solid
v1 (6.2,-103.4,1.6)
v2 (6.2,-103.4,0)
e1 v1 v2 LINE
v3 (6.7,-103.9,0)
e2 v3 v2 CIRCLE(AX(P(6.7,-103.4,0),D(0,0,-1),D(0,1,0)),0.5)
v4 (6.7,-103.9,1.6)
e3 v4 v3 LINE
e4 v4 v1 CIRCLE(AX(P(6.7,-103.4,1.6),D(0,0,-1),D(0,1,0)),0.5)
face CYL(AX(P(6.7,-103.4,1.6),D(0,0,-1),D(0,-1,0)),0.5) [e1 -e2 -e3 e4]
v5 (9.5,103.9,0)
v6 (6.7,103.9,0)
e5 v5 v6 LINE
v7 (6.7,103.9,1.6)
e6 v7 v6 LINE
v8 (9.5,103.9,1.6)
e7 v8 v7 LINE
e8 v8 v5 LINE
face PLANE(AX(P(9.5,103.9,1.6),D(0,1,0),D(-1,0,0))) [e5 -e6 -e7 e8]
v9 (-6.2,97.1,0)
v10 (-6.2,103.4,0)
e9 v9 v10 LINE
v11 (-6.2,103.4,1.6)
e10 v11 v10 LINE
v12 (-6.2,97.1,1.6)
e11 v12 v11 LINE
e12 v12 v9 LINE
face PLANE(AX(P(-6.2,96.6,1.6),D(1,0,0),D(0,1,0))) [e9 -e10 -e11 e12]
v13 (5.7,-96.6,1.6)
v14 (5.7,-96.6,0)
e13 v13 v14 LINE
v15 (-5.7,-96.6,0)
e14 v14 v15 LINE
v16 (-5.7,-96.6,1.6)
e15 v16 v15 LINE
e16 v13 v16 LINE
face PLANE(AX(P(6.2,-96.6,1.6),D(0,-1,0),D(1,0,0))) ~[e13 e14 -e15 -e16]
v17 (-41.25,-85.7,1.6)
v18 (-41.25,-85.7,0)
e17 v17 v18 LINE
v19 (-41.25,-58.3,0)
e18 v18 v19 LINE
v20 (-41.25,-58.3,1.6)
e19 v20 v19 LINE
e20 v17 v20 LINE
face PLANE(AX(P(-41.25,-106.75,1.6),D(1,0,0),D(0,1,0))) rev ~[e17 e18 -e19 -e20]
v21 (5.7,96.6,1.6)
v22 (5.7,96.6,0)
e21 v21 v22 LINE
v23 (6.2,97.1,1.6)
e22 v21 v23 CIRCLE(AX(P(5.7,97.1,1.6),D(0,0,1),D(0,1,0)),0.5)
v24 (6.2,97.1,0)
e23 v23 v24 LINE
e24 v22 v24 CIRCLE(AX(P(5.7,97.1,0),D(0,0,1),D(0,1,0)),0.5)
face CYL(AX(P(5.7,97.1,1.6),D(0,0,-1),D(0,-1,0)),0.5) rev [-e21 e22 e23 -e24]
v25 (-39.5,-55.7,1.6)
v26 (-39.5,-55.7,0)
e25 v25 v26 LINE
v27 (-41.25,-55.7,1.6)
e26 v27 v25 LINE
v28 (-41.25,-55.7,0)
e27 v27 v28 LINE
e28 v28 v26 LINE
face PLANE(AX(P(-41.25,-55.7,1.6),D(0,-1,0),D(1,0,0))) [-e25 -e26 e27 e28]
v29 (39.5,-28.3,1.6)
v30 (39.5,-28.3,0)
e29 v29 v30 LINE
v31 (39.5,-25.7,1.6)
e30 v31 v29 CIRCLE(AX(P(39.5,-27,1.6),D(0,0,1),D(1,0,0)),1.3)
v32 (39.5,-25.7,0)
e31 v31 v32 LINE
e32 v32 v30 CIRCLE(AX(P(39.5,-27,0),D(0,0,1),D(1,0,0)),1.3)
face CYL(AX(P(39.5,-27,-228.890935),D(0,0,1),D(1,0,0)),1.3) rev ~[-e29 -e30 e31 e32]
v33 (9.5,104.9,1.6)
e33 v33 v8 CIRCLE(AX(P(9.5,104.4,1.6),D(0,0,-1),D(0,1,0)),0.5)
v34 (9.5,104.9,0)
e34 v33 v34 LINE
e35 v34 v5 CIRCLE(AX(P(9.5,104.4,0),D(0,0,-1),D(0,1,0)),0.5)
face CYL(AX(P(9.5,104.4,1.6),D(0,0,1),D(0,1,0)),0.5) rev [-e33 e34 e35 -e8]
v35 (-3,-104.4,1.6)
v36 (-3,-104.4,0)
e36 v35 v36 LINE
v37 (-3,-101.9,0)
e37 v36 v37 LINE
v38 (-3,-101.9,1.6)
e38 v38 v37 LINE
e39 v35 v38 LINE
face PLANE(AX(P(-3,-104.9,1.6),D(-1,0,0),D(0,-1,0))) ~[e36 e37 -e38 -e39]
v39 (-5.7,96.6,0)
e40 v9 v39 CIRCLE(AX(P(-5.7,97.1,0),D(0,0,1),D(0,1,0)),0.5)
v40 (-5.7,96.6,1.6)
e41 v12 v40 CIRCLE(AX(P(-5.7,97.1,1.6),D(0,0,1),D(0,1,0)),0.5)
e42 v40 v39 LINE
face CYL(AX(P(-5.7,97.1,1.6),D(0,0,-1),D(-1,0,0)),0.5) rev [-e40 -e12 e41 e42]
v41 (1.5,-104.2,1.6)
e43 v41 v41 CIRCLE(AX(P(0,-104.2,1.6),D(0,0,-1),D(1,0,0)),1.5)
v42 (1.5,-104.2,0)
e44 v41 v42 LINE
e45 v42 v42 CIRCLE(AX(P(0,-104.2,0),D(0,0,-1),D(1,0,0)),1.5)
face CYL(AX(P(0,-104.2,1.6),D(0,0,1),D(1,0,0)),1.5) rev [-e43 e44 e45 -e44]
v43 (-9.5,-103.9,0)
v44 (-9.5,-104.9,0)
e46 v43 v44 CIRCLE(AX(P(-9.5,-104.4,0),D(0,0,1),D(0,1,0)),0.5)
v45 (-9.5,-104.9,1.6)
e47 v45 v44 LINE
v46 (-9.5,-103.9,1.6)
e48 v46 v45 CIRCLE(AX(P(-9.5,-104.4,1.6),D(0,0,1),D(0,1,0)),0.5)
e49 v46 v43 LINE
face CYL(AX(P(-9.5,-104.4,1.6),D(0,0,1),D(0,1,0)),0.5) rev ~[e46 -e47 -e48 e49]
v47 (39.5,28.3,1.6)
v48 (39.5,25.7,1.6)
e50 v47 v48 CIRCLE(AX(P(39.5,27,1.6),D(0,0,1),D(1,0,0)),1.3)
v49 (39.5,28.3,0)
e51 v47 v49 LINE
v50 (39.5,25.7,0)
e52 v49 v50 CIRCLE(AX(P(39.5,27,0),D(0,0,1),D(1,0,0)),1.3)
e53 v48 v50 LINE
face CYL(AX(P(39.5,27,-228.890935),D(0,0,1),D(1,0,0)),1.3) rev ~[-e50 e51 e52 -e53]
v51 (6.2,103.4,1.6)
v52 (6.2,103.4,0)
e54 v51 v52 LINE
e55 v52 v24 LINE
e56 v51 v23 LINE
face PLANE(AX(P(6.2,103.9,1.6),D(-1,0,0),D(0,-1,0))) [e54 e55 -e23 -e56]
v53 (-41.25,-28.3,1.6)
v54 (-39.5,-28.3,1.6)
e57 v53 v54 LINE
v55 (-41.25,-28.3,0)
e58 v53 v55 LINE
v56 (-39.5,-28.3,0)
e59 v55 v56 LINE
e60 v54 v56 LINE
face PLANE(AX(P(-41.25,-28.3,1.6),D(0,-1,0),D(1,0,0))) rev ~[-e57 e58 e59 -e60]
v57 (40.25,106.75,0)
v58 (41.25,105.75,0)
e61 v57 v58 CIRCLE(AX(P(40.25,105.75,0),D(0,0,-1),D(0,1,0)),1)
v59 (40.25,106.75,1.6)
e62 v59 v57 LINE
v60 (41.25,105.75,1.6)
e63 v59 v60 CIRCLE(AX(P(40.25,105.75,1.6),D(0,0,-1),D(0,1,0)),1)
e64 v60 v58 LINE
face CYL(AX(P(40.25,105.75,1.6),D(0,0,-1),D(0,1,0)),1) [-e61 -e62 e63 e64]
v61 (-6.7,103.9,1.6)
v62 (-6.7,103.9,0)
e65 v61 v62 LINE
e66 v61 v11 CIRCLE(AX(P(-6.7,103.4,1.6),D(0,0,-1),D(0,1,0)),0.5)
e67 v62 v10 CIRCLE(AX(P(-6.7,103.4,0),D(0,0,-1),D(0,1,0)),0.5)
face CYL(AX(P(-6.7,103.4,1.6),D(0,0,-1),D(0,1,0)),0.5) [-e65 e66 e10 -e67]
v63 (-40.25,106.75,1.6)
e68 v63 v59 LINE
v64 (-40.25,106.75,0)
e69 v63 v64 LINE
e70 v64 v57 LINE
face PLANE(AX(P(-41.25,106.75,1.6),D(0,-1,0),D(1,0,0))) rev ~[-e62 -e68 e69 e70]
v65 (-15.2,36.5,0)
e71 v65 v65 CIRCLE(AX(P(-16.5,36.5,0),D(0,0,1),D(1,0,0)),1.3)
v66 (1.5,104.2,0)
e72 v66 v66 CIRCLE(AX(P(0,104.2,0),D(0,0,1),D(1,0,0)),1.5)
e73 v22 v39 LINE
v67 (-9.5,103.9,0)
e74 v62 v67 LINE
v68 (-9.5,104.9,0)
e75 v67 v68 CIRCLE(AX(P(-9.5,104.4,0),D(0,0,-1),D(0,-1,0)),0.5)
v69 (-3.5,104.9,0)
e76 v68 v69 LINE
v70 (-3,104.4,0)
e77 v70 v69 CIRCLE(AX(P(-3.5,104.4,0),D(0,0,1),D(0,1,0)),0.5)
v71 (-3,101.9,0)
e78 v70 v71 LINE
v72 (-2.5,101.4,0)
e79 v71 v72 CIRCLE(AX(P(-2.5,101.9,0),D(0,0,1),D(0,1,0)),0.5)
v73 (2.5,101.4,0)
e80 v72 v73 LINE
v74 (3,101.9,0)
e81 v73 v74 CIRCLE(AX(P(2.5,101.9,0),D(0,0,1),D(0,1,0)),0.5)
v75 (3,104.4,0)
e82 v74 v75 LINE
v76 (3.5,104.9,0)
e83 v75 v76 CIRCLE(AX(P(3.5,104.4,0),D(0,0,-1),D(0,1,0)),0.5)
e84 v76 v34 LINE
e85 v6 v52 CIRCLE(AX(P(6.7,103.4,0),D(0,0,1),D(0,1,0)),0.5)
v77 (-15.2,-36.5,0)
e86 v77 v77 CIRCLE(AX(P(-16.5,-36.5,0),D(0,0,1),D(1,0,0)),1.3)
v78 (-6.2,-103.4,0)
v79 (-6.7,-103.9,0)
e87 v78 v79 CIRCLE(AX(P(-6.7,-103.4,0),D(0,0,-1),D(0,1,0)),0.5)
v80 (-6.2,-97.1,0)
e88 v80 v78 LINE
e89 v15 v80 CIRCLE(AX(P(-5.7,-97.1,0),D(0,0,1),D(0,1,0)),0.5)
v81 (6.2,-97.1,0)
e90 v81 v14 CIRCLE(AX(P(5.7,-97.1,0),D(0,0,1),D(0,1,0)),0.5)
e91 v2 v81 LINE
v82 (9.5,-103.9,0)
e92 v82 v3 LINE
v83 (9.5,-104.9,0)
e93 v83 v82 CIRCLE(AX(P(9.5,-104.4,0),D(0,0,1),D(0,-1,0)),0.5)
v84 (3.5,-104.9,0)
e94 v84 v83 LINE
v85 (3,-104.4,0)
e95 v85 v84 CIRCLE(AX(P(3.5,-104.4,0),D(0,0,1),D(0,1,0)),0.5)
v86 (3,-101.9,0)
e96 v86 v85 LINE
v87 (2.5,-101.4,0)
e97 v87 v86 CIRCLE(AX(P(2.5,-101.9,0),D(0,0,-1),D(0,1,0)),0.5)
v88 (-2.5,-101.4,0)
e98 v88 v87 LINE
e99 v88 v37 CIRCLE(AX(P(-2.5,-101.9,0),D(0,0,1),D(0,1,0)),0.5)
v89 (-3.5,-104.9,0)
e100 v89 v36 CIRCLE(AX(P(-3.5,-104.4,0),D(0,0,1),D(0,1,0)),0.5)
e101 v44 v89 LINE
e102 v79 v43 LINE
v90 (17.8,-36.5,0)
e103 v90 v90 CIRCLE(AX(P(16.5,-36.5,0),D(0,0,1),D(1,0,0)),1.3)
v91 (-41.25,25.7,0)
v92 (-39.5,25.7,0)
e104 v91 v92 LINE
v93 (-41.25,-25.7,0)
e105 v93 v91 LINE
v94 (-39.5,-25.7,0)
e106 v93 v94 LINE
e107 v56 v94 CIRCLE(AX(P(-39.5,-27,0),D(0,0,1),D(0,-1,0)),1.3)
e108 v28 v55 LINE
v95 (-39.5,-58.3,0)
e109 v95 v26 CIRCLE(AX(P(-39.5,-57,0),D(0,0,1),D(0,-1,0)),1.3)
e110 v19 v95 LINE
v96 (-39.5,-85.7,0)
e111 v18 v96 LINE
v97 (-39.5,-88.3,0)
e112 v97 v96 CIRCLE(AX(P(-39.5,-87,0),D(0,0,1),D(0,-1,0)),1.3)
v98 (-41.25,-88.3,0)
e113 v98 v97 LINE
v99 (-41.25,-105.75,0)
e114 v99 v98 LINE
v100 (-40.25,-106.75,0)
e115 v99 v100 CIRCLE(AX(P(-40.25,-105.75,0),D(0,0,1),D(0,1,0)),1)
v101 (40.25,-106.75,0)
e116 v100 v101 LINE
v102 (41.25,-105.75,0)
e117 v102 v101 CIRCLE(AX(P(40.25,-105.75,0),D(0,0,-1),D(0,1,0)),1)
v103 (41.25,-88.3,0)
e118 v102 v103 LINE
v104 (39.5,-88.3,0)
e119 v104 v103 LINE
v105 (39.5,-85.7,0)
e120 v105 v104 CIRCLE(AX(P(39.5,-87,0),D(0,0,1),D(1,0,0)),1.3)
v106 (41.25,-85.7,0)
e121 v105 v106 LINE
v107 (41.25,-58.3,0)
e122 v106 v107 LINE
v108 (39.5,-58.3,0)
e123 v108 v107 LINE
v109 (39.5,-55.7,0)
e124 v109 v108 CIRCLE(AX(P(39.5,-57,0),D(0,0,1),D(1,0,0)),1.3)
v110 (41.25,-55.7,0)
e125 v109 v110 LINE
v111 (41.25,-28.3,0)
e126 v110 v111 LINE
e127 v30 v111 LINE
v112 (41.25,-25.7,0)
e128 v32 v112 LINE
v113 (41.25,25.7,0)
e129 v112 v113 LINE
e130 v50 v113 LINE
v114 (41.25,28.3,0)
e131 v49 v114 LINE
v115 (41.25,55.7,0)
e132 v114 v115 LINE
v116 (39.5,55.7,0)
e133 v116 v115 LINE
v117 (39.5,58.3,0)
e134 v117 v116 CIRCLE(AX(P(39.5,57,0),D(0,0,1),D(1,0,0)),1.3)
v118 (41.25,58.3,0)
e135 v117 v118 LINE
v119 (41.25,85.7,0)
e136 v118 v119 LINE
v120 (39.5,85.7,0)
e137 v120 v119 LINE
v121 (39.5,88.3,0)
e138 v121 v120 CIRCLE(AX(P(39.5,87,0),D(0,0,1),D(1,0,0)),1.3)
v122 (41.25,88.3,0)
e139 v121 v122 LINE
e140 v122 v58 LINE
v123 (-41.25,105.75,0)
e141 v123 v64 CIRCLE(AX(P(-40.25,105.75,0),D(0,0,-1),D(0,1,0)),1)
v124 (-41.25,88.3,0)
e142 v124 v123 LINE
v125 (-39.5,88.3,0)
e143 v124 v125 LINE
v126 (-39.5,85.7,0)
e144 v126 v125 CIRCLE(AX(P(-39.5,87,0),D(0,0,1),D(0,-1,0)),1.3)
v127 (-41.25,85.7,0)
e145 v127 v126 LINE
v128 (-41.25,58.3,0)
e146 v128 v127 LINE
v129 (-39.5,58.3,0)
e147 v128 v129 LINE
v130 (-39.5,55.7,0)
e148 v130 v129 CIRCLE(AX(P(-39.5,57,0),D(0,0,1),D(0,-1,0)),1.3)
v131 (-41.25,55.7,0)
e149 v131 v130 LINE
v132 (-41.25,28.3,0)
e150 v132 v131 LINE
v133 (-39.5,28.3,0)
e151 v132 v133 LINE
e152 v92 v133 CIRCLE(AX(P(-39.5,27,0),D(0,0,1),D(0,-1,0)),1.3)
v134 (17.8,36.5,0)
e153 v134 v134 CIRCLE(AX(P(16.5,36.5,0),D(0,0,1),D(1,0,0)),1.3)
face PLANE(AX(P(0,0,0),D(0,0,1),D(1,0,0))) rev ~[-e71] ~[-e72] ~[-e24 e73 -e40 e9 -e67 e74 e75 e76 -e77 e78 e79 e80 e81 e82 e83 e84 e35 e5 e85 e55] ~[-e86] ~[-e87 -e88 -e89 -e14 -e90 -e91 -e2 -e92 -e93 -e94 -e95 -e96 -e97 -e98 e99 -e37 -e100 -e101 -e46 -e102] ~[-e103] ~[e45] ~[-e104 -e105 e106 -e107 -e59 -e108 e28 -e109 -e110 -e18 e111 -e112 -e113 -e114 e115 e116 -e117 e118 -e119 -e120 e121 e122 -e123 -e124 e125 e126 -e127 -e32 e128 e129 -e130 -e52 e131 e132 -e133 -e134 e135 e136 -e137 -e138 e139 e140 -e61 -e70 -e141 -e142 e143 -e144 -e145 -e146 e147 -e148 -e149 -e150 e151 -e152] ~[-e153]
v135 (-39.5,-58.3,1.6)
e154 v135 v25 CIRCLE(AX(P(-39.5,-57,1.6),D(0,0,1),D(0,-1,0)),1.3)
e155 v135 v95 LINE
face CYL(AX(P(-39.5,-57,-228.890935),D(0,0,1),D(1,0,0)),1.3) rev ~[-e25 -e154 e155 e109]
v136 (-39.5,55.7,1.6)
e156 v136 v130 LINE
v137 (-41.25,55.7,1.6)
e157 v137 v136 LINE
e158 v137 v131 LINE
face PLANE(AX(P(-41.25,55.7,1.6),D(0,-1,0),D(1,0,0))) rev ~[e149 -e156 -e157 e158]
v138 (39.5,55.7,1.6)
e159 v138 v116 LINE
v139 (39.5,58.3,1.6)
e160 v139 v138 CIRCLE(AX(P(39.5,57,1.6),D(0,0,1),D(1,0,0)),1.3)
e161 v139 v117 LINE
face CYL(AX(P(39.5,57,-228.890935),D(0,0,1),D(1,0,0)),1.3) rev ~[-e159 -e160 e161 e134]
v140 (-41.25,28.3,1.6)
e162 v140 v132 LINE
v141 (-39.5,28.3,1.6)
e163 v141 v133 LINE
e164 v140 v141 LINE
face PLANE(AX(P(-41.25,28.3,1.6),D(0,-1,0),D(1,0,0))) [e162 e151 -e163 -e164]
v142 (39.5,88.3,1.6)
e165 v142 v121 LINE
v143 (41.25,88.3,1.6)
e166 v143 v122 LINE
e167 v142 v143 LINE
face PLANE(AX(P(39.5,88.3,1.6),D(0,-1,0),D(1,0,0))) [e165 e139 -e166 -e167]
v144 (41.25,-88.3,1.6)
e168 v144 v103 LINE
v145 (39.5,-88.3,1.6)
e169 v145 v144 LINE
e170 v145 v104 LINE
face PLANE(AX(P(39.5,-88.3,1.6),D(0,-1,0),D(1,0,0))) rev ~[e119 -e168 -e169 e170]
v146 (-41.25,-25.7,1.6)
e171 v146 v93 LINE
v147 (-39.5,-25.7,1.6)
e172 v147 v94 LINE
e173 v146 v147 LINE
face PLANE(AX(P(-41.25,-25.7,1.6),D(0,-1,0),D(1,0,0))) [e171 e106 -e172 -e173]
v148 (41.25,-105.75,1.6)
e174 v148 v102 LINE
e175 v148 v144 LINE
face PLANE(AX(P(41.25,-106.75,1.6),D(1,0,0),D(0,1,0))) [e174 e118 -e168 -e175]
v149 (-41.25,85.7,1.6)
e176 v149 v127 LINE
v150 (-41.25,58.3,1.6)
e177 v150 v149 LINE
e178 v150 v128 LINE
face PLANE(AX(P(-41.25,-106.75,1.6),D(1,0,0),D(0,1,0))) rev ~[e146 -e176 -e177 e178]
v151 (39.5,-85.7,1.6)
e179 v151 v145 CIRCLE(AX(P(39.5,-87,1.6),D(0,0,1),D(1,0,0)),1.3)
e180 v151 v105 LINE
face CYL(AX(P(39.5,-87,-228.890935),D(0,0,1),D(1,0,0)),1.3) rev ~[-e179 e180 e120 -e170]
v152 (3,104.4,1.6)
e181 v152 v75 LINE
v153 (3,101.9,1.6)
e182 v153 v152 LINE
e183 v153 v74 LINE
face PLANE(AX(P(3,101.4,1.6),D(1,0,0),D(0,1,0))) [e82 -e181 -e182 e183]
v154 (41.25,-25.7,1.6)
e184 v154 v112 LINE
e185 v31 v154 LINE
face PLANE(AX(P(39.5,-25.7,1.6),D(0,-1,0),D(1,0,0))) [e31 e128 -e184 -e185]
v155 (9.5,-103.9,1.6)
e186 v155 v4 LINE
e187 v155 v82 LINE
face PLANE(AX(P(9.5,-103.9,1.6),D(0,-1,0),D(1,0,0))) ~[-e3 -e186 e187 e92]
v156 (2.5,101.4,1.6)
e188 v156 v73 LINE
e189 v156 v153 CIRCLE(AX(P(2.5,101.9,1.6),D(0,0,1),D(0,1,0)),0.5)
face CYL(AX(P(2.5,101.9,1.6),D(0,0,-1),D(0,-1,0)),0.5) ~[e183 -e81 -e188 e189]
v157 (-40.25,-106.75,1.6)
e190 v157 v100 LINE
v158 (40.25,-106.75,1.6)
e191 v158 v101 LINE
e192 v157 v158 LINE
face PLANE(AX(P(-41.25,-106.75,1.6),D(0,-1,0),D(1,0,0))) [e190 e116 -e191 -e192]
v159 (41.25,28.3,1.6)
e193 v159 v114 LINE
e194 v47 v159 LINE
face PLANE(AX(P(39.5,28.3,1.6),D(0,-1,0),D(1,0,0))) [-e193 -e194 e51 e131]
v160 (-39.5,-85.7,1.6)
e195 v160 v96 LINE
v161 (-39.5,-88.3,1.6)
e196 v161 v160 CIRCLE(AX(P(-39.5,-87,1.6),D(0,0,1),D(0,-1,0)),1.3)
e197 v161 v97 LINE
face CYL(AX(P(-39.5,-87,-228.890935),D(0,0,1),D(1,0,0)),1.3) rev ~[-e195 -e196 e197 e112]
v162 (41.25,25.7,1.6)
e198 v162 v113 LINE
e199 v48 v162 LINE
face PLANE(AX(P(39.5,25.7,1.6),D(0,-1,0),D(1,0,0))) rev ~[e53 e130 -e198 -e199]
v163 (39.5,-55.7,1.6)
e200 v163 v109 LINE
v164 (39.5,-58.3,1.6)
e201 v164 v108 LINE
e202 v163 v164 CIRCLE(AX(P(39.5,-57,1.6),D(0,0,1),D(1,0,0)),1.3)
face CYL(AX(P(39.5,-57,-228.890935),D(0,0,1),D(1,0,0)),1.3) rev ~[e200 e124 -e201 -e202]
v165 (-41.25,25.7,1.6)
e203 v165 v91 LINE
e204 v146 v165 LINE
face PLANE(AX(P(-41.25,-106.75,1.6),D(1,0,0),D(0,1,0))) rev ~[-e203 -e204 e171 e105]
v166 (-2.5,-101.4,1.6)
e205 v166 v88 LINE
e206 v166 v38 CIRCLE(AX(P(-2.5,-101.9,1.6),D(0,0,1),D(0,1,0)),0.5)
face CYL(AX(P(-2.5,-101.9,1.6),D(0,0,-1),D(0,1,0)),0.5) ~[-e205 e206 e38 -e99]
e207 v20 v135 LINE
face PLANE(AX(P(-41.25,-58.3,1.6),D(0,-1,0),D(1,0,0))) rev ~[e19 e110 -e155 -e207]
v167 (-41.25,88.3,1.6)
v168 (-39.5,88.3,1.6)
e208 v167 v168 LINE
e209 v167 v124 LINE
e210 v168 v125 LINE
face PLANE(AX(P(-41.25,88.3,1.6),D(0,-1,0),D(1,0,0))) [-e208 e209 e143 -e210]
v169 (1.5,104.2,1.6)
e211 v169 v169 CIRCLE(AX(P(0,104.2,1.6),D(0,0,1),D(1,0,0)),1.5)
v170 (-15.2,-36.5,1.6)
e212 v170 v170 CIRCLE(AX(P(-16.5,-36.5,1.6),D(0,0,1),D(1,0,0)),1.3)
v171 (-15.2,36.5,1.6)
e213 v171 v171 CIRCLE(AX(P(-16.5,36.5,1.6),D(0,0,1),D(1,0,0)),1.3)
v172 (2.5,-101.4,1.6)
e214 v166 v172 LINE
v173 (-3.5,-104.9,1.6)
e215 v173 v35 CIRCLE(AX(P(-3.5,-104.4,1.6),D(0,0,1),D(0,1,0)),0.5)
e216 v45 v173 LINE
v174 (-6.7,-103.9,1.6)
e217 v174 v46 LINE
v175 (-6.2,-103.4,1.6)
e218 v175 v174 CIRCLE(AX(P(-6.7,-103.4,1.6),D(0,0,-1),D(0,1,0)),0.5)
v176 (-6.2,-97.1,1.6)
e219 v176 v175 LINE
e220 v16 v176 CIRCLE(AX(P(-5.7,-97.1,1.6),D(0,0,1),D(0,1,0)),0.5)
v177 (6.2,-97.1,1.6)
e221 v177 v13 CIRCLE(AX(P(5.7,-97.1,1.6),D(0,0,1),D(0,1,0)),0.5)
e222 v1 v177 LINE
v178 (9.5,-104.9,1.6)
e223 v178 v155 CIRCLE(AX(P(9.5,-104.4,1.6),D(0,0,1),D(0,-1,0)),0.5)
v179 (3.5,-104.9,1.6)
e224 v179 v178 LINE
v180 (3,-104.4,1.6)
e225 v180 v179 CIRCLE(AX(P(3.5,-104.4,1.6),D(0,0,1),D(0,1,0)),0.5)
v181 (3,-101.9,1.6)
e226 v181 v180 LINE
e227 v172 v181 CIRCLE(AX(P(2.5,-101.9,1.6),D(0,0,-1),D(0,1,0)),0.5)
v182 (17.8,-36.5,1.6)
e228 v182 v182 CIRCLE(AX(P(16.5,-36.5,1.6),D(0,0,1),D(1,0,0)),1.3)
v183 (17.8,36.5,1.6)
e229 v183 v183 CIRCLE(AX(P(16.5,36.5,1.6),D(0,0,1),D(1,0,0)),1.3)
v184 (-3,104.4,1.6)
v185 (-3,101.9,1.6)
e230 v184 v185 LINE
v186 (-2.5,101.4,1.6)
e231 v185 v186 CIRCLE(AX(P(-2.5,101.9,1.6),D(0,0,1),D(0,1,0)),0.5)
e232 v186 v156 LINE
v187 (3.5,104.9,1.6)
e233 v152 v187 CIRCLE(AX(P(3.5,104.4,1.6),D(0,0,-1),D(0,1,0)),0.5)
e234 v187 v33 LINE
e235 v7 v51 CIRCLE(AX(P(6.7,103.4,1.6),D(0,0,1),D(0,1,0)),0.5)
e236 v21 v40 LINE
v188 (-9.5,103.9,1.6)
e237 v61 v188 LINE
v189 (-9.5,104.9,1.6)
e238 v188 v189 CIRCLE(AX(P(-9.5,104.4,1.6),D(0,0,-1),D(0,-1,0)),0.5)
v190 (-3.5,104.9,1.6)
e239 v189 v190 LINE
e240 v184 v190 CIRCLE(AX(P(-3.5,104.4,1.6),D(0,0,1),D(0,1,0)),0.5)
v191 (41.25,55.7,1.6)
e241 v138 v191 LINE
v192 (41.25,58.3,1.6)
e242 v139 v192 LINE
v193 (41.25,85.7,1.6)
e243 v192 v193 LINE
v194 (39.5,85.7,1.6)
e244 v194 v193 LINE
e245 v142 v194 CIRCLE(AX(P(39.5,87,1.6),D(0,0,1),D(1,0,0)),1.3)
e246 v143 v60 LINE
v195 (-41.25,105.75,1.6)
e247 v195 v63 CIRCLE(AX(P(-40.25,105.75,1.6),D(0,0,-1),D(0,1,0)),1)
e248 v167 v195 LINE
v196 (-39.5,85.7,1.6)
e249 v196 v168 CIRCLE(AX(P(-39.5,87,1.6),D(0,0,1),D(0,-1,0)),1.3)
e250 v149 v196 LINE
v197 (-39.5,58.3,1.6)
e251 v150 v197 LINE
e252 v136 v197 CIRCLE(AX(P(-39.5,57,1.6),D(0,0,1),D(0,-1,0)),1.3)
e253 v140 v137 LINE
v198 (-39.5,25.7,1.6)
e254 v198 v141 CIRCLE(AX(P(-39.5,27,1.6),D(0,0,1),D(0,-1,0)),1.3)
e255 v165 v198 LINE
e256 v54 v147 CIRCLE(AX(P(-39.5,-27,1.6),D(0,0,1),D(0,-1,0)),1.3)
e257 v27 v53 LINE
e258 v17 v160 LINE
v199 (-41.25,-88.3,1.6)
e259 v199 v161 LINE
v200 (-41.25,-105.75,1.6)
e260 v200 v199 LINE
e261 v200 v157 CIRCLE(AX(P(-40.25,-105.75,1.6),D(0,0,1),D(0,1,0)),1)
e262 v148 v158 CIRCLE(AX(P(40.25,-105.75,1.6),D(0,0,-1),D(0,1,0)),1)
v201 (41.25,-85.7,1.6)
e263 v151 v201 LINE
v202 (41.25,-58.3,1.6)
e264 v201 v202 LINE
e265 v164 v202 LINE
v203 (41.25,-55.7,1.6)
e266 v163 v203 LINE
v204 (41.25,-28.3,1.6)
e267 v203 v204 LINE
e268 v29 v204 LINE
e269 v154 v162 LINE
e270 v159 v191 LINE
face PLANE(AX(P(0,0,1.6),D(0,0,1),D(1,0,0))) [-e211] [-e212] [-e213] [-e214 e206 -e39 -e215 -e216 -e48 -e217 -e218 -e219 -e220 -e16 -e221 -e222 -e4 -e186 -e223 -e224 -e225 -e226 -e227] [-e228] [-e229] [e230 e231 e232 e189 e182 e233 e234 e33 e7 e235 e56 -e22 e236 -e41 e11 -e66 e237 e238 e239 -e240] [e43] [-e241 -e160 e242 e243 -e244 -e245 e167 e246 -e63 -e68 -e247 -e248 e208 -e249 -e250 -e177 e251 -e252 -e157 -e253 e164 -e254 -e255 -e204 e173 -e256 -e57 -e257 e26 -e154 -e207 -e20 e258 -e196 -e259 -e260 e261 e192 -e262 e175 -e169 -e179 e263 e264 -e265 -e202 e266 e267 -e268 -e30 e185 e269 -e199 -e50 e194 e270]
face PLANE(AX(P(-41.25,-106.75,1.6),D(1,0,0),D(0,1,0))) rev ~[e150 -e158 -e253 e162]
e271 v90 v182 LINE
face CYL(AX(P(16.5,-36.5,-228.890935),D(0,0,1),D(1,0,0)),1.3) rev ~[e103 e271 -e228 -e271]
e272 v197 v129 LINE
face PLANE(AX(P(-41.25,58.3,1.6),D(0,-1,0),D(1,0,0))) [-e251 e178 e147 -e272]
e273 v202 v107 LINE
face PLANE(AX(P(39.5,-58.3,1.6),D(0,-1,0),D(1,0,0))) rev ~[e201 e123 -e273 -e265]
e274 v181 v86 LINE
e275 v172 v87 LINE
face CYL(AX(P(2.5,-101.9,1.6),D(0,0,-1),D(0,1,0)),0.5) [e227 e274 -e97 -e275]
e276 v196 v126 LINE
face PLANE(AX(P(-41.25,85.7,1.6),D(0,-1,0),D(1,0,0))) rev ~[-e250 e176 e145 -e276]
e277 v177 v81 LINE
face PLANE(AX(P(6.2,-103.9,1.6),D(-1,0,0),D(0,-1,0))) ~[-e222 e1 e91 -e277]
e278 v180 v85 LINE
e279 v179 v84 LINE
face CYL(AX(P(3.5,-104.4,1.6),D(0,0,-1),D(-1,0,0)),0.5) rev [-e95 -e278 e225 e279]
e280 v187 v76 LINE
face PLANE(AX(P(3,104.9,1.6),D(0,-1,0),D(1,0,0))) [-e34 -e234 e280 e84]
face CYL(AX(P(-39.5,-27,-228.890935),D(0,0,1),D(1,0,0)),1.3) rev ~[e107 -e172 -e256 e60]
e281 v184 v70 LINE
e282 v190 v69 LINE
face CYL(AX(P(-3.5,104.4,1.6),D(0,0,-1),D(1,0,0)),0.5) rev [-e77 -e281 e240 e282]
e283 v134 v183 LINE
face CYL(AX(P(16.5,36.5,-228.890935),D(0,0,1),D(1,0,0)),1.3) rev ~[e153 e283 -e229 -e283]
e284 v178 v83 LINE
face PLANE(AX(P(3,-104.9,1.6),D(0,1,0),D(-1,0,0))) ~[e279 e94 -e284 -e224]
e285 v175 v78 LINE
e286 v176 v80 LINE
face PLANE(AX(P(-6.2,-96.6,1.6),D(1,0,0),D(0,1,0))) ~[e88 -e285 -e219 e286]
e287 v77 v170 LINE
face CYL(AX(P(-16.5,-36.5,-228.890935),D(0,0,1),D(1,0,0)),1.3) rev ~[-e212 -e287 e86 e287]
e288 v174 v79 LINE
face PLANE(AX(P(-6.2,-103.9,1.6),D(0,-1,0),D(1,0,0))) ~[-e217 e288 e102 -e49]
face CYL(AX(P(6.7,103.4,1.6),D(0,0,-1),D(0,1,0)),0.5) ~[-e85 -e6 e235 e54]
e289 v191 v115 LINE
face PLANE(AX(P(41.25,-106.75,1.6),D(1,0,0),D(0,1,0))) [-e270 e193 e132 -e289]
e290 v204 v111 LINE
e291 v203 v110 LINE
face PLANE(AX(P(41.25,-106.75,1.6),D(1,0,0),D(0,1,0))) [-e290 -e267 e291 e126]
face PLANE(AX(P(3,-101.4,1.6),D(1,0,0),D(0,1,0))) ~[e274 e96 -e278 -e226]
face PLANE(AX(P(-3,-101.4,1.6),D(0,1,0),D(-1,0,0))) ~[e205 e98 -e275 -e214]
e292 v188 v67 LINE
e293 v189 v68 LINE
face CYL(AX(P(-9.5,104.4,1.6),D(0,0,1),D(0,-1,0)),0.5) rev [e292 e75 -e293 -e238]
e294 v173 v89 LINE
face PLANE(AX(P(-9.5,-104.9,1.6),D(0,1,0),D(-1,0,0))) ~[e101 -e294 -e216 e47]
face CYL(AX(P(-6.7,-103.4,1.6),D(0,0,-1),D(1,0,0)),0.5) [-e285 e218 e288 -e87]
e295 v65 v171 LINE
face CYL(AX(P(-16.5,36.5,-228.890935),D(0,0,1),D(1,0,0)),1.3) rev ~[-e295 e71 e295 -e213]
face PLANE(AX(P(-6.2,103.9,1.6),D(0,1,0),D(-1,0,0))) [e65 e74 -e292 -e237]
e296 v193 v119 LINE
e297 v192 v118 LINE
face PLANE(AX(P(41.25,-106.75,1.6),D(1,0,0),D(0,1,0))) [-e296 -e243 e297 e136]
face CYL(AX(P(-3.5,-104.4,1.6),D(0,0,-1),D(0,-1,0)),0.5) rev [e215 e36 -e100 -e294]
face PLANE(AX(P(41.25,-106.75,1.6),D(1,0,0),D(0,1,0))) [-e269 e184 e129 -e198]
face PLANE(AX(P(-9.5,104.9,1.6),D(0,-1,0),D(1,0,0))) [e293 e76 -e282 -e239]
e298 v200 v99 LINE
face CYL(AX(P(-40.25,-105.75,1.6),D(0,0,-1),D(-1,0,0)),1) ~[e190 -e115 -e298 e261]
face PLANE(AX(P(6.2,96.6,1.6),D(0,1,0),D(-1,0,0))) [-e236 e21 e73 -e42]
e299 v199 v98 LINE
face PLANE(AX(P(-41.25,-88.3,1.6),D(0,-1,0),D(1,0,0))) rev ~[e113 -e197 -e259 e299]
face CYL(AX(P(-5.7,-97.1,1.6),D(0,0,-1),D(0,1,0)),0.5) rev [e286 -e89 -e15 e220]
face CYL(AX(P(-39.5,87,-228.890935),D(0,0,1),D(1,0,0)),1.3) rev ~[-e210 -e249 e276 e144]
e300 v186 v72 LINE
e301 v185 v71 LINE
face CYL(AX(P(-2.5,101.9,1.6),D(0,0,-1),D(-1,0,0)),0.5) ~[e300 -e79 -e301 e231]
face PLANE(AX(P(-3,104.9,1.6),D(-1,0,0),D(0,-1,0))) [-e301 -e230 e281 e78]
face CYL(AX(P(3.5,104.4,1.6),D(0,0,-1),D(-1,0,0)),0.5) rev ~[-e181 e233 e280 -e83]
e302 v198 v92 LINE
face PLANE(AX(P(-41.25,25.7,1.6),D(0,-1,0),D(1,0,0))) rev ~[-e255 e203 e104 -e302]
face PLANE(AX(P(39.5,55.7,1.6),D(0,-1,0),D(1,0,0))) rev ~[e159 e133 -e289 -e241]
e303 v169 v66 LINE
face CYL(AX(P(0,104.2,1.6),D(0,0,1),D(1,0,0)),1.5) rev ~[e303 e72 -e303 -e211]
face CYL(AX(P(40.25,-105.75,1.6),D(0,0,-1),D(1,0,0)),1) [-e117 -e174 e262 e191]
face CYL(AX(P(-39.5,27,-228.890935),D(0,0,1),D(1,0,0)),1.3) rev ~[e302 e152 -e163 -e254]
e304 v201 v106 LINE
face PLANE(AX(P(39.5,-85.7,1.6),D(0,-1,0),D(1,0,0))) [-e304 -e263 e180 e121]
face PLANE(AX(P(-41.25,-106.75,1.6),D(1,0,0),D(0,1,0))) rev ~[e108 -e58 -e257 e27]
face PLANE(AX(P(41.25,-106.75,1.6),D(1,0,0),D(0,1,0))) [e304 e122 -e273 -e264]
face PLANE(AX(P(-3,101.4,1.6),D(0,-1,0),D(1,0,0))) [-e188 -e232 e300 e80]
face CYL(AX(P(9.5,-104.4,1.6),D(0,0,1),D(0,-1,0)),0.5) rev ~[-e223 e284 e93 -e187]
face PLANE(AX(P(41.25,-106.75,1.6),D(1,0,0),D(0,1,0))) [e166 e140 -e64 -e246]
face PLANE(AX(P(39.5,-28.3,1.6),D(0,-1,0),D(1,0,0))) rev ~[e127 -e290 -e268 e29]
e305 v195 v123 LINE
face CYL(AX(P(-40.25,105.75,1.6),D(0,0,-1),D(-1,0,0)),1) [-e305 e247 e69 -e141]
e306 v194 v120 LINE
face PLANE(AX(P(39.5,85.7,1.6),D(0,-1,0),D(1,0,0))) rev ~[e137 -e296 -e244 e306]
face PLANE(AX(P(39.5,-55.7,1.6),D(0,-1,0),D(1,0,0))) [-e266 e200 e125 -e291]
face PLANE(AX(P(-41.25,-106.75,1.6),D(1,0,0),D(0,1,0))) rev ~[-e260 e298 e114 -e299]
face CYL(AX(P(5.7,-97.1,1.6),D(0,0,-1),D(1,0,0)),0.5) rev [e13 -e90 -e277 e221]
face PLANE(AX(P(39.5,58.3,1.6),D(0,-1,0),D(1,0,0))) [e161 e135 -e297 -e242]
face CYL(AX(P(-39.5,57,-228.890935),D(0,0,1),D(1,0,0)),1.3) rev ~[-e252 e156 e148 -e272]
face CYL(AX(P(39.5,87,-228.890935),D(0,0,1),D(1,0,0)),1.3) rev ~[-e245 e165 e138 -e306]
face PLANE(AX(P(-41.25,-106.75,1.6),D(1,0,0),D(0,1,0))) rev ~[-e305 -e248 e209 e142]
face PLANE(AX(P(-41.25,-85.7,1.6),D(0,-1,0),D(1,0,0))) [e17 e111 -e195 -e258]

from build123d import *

# Parameters (mm, degrees)
SKETCH1_W                  = 82.8
SKETCH1_H                  = 213.8
SKETCH1_R                  = 0.8
PCB_EXTRUDE_DEPTH          = 1.6
SKETCH7_W                  = 82.5
SKETCH7_H                  = 213.5
OFFSET_EDGES_DEPTH         = 1.6
CORNER_FILLETS_ON_PCB_R    = 1
SKETCH3_R                  = 1.5
SOLAR_HOLE_DEPTH           = 1.6
FILLETS_FOR_SOLAR_HOLE_R   = 0.5
M2_CLEARANCE_HOLE1_D       = 2.6
SKETCH6_W                  = 1.75
SKETCH6_H                  = 2.6
SLOTS_FOR_EDGE_HOLES_DEPTH = 1.6


with BuildPart() as part:
    # Sketch1 → pcb extrude (new body)
    with BuildSketch(Plane.XY):
        Rectangle(SKETCH1_W, SKETCH1_H)
        with Locations((-39.5, -27)):
            Circle(SKETCH1_R, mode=Mode.SUBTRACT)
        with Locations((39.5, -27)):
            Circle(SKETCH1_R, mode=Mode.SUBTRACT)
        with Locations((-39.5, 87)):
            Circle(SKETCH1_R, mode=Mode.SUBTRACT)
        with Locations((-39.5, 57)):
            Circle(SKETCH1_R, mode=Mode.SUBTRACT)
        with Locations((-39.5, 27)):
            Circle(SKETCH1_R, mode=Mode.SUBTRACT)
        with Locations((-16.5, 36.5)):
            Circle(SKETCH1_R, mode=Mode.SUBTRACT)
        with Locations((-16.5, -36.5)):
            Circle(SKETCH1_R, mode=Mode.SUBTRACT)
        with Locations((-39.5, -57)):
            Circle(SKETCH1_R, mode=Mode.SUBTRACT)
        with Locations((-39.5, -87)):
            Circle(SKETCH1_R, mode=Mode.SUBTRACT)
        with Locations((0, -104.2)):
            Circle(SKETCH1_R, mode=Mode.SUBTRACT)
        with Locations((39.5, -87)):
            Circle(SKETCH1_R, mode=Mode.SUBTRACT)
        with Locations((39.5, -57)):
            Circle(SKETCH1_R, mode=Mode.SUBTRACT)
        with Locations((16.5, -36.5)):
            Circle(SKETCH1_R, mode=Mode.SUBTRACT)
        with Locations((39.5, 27)):
            Circle(SKETCH1_R, mode=Mode.SUBTRACT)
        with Locations((16.5, 36.5)):
            Circle(SKETCH1_R, mode=Mode.SUBTRACT)
        with Locations((39.5, 57)):
            Circle(SKETCH1_R, mode=Mode.SUBTRACT)
        with Locations((39.5, 87)):
            Circle(SKETCH1_R, mode=Mode.SUBTRACT)
        with Locations((0, 104.2)):
            Circle(SKETCH1_R, mode=Mode.SUBTRACT)
    extrude(amount=PCB_EXTRUDE_DEPTH)

    # Sketch7 → Offset Edges (cut)
    with BuildSketch(Plane.XY.offset(1.6)):
        Polygon((-41.25, 106.9), (-41.4, 106.9), (-41.4, -106.9), (-41.25, -106.9), (41.25, -106.9), (41.4, -106.9), (41.4, 106.9), (41.25, 106.9), align=None)
        Rectangle(SKETCH7_W, SKETCH7_H, mode=Mode.SUBTRACT)
    extrude(amount=-OFFSET_EDGES_DEPTH, mode=Mode.SUBTRACT)

    # corner fillets on PCB
    corner_fillets_on_pcb_edges = [part.edges().sort_by_distance(p)[0] for p in [
        (41.25, -106.75, 0.8),
        (41.25, 106.75, 0.8),
        (-41.25, 106.75, 0.8),
        (-41.25, -106.75, 0.8),
    ]]
    fillet(corner_fillets_on_pcb_edges, radius=CORNER_FILLETS_ON_PCB_R)

    # Sketch3 → Solar Hole (cut)
    with BuildSketch(Plane.XY.offset(1.6)):
        with Locations((0, 104.2)):
            Circle(SKETCH3_R)
        with BuildLine():
            Line((-3, 101.4), (3, 101.4))
            Line((3, 101.4), (3, 104.9))
            Line((3, 104.9), (9.5, 104.9))
            ThreePointArc((9.5, 104.9), (10, 104.4), (9.5, 103.9))
            Line((9.5, 103.9), (6.2, 103.9))
            Line((6.2, 103.9), (6.2, 96.6))
            Line((6.2, 96.6), (-6.2, 96.6))
            Line((-6.2, 96.6), (-6.2, 103.9))
            Line((-6.2, 103.9), (-9.5, 103.9))
            ThreePointArc((-9.5, 103.9), (-10, 104.4), (-9.5, 104.9))
            Line((-9.5, 104.9), (-3, 104.9))
            Line((-3, 104.9), (-3, 101.4))
        make_face()
    solar_hole = extrude(amount=-SOLAR_HOLE_DEPTH, mode=Mode.SUBTRACT)

    # Mirror solar hole: Solar Hole across plane
    add(solar_hole.mirror(Plane.ZX), mode=Mode.SUBTRACT)

    # fillets for solar hole
    fillets_for_solar_hole_edges = [part.edges().sort_by_distance(p)[0] for p in [
        (6.2, 103.9, 0.8),
        (6.2, 96.6, 0.8),
        (-6.2, 96.6, 0.8),
        (-6.2, 103.9, 0.8),
        (-3, 104.9, 0.8),
        (-3, 101.4, 0.8),
        (3, 101.4, 0.8),
        (3, 104.9, 0.8),
        (6.2, -103.9, 0.8),
        (6.2, -96.6, 0.8),
        (-6.2, -96.6, 0.8),
        (-6.2, -103.9, 0.8),
        (-3, -104.9, 0.8),
        (-3, -101.4, 0.8),
        (3, -101.4, 0.8),
        (3, -104.9, 0.8),
    ]]
    fillet(fillets_for_solar_hole_edges, radius=FILLETS_FOR_SOLAR_HOLE_R)

    # M2 Clearance Hole1 (through all)
    with Locations(Plane(origin=(0, 0, 0), x_dir=(-1, 0, 0), z_dir=(0, 0, -1))):
        with Locations((39.5, 87), (-39.5, 87), (16.5, 36.5), (-16.5, 36.5), (39.5, 57), (-39.5, 57), (39.5, 27), (-39.5, 27), (39.5, -57), (16.5, -36.5), (-16.5, -36.5), (-39.5, -57), (-39.5, -87), (39.5, -87), (39.5, -27), (-39.5, -27)):
            Hole(M2_CLEARANCE_HOLE1_D / 2)

    # Sketch6 → slots for edge holes (cut)
    with BuildSketch(Plane.XY.offset(1.6)):
        with Locations((-40.375, 87)):
            Rectangle(SKETCH6_W, SKETCH6_H)
        with Locations((40.375, 87)):
            Rectangle(SKETCH6_W, SKETCH6_H)
        with Locations((40.375, 57)):
            Rectangle(SKETCH6_W, SKETCH6_H)
        with Locations((40.375, 27)):
            Rectangle(SKETCH6_W, SKETCH6_H)
        with Locations((-40.375, 57)):
            Rectangle(SKETCH6_W, SKETCH6_H)
        with Locations((-40.375, 27)):
            Rectangle(SKETCH6_W, SKETCH6_H)
        with Locations((40.375, -87)):
            Rectangle(SKETCH6_W, SKETCH6_H)
        with Locations((-40.375, -87)):
            Rectangle(SKETCH6_W, SKETCH6_H)
        with Locations((40.375, -57)):
            Rectangle(SKETCH6_W, SKETCH6_H)
        with Locations((40.375, -27)):
            Rectangle(SKETCH6_W, SKETCH6_H)
        with Locations((-40.375, -57)):
            Rectangle(SKETCH6_W, SKETCH6_H)
        with Locations((-40.375, -27)):
            Rectangle(SKETCH6_W, SKETCH6_H)
    extrude(amount=-SLOTS_FOR_EDGE_HOLES_DEPTH, mode=Mode.SUBTRACT)


solid = part.part
